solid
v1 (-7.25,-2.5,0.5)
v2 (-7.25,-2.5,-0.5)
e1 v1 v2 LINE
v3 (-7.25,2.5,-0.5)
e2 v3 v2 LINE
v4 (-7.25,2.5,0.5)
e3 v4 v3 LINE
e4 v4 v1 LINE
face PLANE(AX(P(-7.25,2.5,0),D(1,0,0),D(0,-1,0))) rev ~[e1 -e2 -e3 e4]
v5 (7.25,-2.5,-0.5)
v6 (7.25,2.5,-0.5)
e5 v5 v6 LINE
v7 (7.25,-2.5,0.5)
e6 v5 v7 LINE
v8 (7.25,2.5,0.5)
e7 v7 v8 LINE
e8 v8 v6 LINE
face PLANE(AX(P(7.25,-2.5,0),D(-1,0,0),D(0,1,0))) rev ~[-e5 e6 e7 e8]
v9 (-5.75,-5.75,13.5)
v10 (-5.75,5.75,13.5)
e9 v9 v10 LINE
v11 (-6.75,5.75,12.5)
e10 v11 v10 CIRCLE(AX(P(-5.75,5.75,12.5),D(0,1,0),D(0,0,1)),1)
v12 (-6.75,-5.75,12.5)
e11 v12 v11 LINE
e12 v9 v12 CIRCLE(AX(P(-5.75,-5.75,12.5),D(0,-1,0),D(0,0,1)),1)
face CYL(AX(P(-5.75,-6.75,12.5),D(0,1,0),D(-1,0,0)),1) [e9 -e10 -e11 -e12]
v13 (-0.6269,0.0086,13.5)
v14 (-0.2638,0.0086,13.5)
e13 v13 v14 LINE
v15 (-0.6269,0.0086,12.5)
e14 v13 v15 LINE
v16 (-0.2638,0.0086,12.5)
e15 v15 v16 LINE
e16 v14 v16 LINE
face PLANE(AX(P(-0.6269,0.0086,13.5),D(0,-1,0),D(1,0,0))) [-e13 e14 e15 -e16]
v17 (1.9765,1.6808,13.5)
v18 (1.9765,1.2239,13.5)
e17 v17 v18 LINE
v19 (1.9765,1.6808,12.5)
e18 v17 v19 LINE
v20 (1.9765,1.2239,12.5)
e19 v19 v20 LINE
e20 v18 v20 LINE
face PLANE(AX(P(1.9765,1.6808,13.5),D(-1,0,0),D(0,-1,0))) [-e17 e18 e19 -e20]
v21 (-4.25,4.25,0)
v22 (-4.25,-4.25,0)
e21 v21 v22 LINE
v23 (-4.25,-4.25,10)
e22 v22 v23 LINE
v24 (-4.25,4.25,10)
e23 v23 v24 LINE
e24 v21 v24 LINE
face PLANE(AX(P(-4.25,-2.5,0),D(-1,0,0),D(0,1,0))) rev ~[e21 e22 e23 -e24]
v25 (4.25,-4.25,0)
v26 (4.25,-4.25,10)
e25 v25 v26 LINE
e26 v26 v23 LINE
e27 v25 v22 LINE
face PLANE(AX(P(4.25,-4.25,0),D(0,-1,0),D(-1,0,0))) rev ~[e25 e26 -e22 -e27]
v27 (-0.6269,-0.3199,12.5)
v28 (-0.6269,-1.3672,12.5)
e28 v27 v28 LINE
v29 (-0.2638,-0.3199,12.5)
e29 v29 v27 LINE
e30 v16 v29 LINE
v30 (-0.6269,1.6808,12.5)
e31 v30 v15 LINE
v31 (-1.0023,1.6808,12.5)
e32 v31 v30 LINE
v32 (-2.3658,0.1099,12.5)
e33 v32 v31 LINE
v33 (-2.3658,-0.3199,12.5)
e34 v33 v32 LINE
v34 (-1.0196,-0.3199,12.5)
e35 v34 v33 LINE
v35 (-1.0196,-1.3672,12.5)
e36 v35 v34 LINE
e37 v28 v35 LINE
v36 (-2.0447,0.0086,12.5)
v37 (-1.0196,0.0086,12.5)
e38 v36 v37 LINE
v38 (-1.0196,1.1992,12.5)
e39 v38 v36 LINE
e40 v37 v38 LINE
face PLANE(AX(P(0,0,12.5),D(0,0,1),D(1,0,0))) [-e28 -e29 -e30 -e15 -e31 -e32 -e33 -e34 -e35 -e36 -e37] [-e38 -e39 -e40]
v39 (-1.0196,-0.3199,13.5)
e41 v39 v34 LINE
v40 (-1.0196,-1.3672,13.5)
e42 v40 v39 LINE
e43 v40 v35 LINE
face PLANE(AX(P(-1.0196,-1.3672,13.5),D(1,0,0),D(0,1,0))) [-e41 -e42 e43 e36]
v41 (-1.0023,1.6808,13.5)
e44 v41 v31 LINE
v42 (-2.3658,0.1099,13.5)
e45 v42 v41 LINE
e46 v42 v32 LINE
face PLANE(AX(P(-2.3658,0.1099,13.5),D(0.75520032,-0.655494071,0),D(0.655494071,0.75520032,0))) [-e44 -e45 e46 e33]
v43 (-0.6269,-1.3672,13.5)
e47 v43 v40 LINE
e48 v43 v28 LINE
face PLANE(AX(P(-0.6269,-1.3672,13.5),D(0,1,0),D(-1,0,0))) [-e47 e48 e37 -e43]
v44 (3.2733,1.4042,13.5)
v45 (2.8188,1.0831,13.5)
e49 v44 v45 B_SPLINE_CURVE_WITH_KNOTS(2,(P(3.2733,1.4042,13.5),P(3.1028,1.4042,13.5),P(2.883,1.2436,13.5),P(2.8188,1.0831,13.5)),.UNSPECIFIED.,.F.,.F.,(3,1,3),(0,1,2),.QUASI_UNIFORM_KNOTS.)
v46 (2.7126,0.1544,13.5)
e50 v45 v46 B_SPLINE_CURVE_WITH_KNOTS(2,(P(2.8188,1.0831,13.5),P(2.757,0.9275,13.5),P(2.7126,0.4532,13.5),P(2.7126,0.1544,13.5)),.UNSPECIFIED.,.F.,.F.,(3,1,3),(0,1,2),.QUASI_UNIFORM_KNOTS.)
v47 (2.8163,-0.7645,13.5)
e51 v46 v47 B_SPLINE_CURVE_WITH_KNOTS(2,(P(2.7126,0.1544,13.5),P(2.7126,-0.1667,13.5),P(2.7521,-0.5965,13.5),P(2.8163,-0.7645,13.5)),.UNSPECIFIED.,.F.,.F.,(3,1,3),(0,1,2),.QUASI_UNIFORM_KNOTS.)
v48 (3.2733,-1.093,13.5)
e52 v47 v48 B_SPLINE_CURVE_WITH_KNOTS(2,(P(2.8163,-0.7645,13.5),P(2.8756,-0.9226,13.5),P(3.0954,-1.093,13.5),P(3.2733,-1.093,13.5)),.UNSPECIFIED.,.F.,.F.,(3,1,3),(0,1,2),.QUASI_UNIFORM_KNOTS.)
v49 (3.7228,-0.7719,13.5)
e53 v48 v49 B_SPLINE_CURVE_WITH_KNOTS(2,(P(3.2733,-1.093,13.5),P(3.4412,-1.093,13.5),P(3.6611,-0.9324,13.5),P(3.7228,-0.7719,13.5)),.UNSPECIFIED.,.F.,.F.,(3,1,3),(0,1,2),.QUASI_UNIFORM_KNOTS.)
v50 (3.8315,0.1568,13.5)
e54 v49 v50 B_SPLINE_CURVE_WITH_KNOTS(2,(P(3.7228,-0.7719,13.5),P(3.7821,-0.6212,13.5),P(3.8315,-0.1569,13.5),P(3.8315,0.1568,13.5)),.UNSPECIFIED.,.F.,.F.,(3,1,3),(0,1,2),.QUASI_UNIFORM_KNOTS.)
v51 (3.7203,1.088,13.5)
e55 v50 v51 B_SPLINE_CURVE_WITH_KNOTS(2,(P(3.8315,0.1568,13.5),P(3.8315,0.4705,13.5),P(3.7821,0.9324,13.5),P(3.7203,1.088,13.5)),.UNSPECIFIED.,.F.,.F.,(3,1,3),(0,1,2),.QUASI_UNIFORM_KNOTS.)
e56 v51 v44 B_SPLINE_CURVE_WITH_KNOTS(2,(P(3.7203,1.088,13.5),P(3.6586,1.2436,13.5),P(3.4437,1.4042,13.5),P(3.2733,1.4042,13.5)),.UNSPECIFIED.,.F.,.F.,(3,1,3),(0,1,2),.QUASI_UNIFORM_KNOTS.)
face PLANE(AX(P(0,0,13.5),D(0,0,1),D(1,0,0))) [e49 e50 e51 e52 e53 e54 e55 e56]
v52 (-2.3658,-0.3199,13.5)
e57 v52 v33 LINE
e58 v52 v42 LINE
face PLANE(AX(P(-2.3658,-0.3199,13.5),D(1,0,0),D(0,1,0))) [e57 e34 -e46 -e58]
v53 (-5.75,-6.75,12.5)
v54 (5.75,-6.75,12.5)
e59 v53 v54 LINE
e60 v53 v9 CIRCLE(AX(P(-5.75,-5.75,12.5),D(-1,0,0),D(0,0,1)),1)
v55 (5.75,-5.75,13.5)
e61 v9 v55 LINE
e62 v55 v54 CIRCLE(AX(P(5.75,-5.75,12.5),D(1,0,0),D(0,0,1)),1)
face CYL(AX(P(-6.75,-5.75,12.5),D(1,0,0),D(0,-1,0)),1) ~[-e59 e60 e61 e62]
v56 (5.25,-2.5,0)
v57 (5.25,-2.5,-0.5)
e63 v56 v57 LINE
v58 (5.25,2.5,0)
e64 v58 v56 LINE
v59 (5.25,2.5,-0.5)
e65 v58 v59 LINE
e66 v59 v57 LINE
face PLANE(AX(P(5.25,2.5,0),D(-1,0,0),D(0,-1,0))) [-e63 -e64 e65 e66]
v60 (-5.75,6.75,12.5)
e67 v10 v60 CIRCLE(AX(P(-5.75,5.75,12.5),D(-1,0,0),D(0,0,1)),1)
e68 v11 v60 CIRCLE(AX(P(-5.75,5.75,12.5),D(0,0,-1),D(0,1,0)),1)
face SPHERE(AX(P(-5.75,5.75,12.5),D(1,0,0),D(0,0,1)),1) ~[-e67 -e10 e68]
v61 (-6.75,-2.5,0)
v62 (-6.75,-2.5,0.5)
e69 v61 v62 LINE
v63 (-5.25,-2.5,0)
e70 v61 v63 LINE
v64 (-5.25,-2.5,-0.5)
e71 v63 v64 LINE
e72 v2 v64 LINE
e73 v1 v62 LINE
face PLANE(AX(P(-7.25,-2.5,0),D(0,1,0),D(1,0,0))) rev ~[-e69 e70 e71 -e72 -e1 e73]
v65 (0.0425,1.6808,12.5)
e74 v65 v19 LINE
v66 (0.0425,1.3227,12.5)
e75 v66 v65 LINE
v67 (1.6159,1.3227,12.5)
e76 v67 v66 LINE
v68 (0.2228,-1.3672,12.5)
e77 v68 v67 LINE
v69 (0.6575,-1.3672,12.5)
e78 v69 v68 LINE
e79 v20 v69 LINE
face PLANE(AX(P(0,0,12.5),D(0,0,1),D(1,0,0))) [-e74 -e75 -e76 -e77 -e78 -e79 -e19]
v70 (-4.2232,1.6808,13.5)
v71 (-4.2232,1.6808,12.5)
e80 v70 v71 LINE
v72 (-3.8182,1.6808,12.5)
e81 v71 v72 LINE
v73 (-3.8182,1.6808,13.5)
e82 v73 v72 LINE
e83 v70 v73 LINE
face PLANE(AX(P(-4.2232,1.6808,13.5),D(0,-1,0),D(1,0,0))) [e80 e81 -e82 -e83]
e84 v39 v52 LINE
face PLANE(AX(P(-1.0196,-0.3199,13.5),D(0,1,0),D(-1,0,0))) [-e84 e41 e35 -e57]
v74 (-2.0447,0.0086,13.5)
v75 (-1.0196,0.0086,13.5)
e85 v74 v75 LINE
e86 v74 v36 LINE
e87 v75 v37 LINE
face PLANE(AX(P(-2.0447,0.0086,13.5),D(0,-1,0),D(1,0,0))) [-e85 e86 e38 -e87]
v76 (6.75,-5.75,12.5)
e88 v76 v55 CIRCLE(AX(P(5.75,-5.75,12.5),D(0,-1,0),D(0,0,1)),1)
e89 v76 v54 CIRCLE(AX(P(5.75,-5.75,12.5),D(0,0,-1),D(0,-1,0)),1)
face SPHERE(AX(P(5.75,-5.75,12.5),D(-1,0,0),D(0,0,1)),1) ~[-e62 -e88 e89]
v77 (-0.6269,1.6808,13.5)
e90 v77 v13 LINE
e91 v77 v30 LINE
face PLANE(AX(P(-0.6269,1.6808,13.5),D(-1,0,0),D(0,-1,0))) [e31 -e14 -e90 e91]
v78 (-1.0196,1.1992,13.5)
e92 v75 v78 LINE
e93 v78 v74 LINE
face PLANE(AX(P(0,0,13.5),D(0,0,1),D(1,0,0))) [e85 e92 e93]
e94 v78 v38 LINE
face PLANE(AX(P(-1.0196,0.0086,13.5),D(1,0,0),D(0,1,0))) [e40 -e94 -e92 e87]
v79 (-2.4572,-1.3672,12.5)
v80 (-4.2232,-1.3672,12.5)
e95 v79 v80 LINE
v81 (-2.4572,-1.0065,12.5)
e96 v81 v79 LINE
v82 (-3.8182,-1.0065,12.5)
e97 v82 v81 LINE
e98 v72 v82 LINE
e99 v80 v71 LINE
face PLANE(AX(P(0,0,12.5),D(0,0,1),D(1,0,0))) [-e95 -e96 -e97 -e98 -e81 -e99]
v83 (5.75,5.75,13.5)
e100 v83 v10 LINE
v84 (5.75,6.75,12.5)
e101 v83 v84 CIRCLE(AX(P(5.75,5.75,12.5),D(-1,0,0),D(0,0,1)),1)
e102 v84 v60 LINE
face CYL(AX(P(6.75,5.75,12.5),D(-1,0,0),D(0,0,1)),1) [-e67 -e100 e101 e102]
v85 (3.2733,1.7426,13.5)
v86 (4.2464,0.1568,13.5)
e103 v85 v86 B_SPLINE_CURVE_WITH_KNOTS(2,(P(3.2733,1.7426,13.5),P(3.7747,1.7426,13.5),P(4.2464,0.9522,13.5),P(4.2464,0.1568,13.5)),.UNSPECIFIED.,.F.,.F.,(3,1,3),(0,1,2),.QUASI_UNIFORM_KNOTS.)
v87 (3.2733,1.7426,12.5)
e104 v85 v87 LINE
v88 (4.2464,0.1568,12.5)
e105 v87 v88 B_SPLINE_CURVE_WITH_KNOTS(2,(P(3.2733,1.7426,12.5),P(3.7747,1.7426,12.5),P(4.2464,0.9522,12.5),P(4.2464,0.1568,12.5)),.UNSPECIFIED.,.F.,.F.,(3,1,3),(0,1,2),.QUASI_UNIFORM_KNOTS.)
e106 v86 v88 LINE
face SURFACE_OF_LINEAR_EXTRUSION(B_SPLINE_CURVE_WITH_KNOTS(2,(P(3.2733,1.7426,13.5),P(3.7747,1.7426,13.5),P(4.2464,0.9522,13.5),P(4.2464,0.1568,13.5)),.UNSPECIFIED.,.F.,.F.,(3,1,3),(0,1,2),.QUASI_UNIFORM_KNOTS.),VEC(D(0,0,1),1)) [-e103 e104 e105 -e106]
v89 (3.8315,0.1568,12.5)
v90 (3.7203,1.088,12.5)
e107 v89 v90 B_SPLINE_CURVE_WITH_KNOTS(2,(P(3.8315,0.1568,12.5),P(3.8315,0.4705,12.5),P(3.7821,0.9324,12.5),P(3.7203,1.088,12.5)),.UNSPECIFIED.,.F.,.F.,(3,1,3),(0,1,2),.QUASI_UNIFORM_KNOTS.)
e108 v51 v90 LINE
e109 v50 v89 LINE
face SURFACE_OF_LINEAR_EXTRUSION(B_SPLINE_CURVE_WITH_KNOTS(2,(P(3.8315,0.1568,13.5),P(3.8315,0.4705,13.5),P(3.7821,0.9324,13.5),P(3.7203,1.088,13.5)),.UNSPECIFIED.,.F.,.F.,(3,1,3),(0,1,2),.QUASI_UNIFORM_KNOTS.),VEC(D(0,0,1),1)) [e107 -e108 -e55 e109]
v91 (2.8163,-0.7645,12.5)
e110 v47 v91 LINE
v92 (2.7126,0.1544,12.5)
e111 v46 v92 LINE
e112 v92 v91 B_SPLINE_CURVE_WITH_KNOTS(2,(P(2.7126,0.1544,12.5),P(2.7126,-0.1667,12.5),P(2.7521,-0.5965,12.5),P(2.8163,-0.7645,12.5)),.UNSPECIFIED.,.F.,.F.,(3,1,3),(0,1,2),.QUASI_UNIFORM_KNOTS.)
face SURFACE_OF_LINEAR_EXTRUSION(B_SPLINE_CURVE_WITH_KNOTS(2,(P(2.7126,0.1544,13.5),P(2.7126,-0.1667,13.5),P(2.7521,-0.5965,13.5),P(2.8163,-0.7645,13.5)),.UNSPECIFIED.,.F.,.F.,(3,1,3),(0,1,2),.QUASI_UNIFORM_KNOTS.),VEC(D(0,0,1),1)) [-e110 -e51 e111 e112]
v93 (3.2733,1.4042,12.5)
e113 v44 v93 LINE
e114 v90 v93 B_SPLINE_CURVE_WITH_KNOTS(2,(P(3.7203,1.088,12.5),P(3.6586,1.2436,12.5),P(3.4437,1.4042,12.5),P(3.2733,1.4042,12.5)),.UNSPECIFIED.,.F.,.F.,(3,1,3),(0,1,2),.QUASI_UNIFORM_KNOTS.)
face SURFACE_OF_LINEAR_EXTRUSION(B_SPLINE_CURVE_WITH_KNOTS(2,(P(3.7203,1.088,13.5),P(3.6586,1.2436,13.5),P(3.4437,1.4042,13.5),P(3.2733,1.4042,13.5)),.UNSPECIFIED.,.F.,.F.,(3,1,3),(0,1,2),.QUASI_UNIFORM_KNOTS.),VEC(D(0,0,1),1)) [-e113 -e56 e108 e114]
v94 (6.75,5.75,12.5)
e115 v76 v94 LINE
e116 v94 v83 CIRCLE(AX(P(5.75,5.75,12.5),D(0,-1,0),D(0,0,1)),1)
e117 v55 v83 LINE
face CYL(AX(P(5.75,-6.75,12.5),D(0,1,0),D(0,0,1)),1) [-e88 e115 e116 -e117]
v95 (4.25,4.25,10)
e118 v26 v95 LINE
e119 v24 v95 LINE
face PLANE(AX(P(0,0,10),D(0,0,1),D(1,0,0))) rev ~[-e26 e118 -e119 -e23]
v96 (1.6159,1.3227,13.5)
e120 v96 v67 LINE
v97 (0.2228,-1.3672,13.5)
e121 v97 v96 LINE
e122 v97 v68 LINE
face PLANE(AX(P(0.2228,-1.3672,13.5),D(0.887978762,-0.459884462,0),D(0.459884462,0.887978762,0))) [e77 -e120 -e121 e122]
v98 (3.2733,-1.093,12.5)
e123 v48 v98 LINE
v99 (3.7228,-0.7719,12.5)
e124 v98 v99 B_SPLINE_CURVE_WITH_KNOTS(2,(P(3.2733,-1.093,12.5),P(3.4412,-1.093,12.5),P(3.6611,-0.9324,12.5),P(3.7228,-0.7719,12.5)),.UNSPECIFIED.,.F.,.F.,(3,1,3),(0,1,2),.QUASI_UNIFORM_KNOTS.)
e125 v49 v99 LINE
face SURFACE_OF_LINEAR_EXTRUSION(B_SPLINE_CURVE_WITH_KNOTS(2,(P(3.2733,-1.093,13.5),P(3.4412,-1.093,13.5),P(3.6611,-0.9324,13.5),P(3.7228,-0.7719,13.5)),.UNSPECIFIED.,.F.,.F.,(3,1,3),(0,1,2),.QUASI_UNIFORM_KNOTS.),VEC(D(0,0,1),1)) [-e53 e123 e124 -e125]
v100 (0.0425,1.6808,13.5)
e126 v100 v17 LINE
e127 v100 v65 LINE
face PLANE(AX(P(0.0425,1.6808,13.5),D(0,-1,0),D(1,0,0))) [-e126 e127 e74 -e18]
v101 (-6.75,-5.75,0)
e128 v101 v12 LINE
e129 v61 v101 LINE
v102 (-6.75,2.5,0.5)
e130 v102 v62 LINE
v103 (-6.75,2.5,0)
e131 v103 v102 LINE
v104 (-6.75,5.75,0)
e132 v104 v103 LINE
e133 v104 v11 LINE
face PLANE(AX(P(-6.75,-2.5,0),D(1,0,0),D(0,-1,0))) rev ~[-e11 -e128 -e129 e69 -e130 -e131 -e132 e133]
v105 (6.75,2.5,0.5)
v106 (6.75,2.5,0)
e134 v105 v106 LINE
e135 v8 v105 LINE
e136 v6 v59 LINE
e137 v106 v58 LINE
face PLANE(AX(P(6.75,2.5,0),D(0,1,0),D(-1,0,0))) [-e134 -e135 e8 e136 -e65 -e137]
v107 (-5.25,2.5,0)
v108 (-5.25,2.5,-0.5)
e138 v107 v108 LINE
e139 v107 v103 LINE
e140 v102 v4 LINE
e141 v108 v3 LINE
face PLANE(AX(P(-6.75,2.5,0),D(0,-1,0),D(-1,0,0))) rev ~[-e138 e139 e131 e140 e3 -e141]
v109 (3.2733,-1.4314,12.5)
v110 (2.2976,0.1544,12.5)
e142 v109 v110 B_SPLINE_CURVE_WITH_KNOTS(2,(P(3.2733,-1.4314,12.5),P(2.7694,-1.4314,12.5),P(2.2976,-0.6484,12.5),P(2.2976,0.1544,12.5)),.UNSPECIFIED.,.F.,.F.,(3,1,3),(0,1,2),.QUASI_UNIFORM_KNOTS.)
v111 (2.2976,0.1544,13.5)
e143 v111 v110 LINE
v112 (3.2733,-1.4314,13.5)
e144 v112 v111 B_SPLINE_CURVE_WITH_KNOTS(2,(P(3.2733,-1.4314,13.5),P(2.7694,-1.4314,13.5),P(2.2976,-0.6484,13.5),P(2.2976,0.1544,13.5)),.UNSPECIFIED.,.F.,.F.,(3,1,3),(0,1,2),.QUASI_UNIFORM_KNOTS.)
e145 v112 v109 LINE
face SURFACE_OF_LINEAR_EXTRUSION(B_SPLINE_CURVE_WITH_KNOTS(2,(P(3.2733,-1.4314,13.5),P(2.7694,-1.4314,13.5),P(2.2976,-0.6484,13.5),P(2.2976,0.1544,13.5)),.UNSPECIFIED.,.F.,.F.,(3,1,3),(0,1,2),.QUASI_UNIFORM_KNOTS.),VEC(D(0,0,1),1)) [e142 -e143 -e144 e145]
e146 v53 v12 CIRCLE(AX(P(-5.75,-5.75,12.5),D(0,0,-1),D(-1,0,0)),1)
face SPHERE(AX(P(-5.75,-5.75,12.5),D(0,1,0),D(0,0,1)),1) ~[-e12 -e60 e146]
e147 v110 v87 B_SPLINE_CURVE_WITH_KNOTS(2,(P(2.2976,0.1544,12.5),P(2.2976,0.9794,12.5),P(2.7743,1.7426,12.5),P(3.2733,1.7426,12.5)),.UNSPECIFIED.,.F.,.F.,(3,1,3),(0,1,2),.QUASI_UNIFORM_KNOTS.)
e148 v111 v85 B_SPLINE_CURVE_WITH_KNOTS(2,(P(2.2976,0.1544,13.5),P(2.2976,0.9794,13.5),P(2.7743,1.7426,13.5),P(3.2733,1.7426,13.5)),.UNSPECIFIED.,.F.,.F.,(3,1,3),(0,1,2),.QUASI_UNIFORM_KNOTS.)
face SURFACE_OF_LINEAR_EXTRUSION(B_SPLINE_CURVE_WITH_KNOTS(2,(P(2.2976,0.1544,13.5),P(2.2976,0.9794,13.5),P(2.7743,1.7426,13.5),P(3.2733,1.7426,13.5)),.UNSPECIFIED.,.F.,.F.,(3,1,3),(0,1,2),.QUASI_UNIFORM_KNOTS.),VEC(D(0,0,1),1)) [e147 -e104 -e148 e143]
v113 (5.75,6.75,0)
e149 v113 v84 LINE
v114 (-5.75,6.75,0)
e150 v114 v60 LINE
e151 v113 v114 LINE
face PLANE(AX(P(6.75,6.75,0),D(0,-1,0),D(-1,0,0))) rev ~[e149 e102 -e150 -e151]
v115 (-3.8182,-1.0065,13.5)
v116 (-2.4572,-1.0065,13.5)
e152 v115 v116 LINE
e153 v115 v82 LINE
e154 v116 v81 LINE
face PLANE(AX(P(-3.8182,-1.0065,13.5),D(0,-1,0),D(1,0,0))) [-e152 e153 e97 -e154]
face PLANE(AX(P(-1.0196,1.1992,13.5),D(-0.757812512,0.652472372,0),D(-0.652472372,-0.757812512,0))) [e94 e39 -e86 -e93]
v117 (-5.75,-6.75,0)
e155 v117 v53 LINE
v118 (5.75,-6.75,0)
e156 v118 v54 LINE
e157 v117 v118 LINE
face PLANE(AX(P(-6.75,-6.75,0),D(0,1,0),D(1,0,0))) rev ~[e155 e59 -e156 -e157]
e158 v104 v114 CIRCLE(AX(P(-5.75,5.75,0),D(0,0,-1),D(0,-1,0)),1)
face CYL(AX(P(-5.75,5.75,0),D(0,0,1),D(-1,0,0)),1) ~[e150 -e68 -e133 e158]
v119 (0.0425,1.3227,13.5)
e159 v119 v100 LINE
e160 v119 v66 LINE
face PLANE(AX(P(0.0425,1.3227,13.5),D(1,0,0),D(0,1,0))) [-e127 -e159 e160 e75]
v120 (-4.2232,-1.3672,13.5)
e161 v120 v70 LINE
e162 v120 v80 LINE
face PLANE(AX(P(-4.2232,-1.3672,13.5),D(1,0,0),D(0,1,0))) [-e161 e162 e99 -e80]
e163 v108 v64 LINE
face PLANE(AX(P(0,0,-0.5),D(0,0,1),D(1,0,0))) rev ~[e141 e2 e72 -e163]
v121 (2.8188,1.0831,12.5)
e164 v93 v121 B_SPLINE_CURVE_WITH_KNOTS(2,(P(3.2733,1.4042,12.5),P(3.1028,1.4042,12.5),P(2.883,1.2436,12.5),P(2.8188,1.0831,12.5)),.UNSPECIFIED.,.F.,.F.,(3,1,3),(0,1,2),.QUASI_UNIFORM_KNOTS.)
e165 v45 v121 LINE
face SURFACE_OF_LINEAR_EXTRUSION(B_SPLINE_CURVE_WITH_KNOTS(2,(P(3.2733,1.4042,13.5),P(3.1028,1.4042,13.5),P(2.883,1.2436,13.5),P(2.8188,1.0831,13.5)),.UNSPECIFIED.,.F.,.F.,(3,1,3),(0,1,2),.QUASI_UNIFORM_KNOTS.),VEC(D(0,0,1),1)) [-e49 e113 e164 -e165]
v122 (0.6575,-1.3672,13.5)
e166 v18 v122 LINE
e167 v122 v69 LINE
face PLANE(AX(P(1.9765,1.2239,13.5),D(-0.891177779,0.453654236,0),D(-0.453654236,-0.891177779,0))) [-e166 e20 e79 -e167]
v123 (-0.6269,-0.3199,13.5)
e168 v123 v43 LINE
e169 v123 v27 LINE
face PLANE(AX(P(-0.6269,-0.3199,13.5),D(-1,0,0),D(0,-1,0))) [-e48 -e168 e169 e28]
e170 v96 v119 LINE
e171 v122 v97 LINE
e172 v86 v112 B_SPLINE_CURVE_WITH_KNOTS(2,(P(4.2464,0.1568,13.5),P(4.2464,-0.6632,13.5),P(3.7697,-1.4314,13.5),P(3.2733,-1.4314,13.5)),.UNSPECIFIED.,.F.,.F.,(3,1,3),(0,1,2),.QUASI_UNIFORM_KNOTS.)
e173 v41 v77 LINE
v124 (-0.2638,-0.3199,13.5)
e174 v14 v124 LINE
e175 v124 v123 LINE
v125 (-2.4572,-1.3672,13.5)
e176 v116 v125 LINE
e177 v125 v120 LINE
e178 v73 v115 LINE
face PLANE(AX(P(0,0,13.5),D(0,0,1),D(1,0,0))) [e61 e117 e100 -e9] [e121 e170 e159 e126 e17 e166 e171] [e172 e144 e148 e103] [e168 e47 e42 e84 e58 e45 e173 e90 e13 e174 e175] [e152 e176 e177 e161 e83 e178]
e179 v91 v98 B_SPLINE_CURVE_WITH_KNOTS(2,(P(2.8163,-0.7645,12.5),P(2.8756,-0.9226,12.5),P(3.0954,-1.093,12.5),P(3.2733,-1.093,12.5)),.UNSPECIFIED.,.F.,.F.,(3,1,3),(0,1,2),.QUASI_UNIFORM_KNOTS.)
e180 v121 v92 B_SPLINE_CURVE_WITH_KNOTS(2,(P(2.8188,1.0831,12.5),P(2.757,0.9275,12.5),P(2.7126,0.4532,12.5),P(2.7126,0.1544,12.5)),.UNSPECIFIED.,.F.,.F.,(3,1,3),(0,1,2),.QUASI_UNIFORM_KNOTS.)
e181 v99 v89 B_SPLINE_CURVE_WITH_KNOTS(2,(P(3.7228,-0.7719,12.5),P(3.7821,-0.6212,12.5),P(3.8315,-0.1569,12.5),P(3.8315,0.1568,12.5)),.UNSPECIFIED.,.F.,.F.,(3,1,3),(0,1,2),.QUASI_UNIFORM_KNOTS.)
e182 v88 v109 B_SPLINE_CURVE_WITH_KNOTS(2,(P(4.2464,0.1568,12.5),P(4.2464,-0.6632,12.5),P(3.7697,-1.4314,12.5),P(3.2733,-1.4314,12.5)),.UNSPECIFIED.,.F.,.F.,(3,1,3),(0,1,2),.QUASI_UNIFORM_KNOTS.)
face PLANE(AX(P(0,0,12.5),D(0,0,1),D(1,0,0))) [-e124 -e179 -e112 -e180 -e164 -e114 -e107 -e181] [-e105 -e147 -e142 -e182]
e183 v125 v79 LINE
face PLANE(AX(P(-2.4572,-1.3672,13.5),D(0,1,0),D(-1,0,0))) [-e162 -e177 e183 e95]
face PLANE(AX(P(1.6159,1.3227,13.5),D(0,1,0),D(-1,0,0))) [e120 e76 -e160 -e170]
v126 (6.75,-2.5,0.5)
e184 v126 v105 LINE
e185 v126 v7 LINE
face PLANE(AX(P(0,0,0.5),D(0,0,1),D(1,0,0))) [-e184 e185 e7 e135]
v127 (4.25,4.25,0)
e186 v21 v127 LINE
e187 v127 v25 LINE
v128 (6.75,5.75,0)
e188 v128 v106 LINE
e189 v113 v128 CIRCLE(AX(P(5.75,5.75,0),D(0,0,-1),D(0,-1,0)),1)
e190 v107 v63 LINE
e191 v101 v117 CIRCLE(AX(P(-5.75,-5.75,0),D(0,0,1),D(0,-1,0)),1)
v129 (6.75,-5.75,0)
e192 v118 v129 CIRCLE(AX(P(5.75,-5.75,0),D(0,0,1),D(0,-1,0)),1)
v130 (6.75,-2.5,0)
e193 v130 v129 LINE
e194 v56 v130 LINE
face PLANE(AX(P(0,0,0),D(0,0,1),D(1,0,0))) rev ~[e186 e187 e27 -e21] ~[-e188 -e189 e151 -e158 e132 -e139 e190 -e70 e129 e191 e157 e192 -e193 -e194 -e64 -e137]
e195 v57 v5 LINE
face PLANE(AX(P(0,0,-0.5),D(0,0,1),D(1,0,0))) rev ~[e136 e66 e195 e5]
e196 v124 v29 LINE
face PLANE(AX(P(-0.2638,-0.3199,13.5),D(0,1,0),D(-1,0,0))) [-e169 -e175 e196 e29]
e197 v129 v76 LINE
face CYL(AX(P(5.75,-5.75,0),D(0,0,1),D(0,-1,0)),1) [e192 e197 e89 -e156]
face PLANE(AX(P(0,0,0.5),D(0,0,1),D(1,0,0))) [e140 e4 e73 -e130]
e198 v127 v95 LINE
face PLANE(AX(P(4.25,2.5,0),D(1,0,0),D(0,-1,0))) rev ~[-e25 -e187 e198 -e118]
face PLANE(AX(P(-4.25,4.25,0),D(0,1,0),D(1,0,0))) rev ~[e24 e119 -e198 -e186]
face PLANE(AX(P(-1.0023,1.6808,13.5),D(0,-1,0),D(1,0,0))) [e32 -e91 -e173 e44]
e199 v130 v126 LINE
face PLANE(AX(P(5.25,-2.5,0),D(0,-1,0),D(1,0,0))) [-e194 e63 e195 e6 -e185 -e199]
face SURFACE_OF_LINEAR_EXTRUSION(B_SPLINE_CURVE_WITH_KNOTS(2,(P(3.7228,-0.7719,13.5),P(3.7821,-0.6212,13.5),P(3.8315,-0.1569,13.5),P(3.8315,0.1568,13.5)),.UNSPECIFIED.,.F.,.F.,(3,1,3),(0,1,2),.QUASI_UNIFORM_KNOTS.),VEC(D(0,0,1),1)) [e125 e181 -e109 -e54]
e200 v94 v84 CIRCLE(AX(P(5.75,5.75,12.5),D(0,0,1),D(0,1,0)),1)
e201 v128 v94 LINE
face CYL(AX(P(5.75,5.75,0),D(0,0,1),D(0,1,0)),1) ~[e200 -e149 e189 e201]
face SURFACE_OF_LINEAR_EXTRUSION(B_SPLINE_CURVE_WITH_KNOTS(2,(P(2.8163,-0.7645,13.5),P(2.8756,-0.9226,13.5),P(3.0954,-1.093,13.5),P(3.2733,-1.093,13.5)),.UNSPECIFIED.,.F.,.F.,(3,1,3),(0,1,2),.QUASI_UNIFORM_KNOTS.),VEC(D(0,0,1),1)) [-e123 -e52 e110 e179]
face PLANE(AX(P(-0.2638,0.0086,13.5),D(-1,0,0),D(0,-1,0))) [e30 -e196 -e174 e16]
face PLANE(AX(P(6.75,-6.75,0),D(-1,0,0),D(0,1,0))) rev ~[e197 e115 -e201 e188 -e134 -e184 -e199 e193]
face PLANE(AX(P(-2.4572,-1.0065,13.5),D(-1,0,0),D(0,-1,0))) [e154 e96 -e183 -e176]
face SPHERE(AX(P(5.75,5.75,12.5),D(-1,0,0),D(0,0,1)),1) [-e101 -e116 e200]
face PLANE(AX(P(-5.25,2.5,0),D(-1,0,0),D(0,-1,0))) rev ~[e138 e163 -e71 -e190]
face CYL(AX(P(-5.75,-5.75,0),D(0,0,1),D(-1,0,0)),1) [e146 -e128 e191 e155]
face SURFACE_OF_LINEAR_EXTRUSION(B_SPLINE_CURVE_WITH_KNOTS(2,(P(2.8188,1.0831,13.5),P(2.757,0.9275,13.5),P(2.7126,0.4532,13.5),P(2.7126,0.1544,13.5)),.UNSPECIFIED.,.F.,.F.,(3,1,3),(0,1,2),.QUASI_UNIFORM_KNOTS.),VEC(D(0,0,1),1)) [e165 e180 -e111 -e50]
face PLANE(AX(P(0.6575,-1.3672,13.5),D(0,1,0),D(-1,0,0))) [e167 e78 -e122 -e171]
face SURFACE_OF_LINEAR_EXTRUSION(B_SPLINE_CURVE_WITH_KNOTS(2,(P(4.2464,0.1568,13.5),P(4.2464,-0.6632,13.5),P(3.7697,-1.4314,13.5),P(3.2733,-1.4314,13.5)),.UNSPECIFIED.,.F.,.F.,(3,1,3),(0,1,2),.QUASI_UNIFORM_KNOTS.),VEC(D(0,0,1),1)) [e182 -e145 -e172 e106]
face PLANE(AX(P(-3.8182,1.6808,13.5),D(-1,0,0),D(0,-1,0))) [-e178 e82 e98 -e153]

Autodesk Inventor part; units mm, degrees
ref_plane "YZ Plane" through (0, 0, 0) normal (1, 0, 0) x (0, 1, 0)
ref_plane "XZ Plane" through (0, 0, 0) normal (0, 1, 0) x (-1, 0, 0)
ref_plane "XY Plane" through (0, 0, 0) normal (0, 0, 1) x (1, 0, 0)
sketch "Sketch2" plane through (0, 0, 0) normal (0, 0, 1) x (1, 0, 0)
  line L0 (-6.75, -6.75) -> (6.75, -6.75)
  line L1 (6.75, -6.75) -> (6.75, 6.75)
  line L2 (6.75, 6.75) -> (-6.75, 6.75)
  line L3 (-6.75, 6.75) -> (-6.75, -6.75)
  line L4 (-6.75, -6.75) -> (6.75, 6.75) construction
  line L5 (6.75, -6.75) -> (-6.75, 6.75) construction
  line L6 (-6.75, -6.75) -> (6.75, -6.75) construction
  line L7 (6.75, -6.75) -> (6.75, -2.5) construction
  line L8 (6.75, -2.5) -> (-6.75, -2.5) construction
  line L9 (-6.75, -2.5) -> (-6.75, -6.75) construction
  line L10 (-7.25, -2.5) -> (7.25, -2.5)
  line L11 (7.25, -2.5) -> (7.25, 2.5)
  line L12 (7.25, 2.5) -> (-7.25, 2.5)
  line L13 (-7.25, 2.5) -> (-7.25, -2.5)
  line L14 (-7.25, 2.5) -> (-5.25, 2.5)
  line L15 (-5.25, 2.5) -> (-5.25, -2.5)
  line L16 (-5.25, -2.5) -> (-7.25, -2.5)
  line L17 (-7.25, -2.5) -> (-7.25, 2.5)
  line L18 (7.25, 2.5) -> (5.25, 2.5)
  line L19 (5.25, 2.5) -> (5.25, -2.5)
  line L20 (5.25, -2.5) -> (7.25, -2.5)
  line L21 (7.25, -2.5) -> (7.25, 2.5)
  line L22 (4.25, -4.25) -> (-4.25, -4.25)
  line L23 (-4.25, -4.25) -> (-4.25, 4.25)
  line L24 (-4.25, 4.25) -> (4.25, 4.25)
  line L25 (4.25, 4.25) -> (4.25, -4.25)
  line L26 (4.25, -4.25) -> (-4.25, 4.25) construction
  line L27 (-4.25, -4.25) -> (4.25, 4.25) construction
  point P0 (0, 0)
  point P1 (0, -2.5)
  point P2 (-6.75, 2.5)
  point P3 (6.75, -2.5)
  point P4 (6.75, 2.5)
  dimension "d2" = 13.5
  dimension "d4" = 4.25
  dimension "d5" = 5
  dimension "d6" = 0.5
  dimension "d7" = 0.5
  dimension "d8" = 2
  dimension "d9" = 2
  dimension "d16" = 8.5
extrude "Extrusion2" add sketch "Sketch2" along normal blind 13.5 contours L3 L10 L23 L22 L25 L1 L0 | L3 L12 L15 L10 | L10 L19 L12 L1 | L3 L2 L1 L12 L25 L24 L23 | L15 L12 L23 L10 | L10 L25 L12 L19 | L23 L12 L25 L10 | L10 L25 L22 L23 | L23 L24 L25 L12
extrude "Extrusion3" add sketch "Sketch2" against normal blind 0.5 contours L3 L12 L15 L10 | L10 L19 L12 L1
extrude "Extrusion4" add sketch "Sketch2" along normal mid plane 1 contours L10 L13 L12 L3 | L1 L12 L11 L10
extrude "Extrusion5" cut sketch "Sketch2" along normal blind 10 contours L23 L12 L25 L10 | L10 L25 L22 L23 | L23 L24 L25 L12
sketch "Sketch3" plane through (0, 0, 13.5) normal (0, 0, 1) x (1, 0, 0)
  line L0 (-4.532, 1.7426) -> (3.9775, 1.7426) construction
  line L1 (3.9775, 1.7426) -> (3.9775, -2.8625) construction
  line L2 (3.9775, -2.8625) -> (-4.532, -2.8625) construction
  line L3 (-4.532, -2.8625) -> (-4.532, 1.7426) construction
  line L4 (-2.4572, -1.3672) -> (-4.2232, -1.3672)
  line L5 (-4.2232, -1.3672) -> (-4.2232, 1.6808)
  line L6 (-4.2232, 1.6808) -> (-3.8182, 1.6808)
  line L7 (-3.8182, 1.6808) -> (-3.8182, -1.0065)
  line L8 (-3.8182, -1.0065) -> (-2.4572, -1.0065)
  line L9 (-2.4572, -1.0065) -> (-2.4572, -1.3672)
  line L10 (-0.2638, -0.3199) -> (-0.6269, -0.3199)
  line L11 (-0.6269, -0.3199) -> (-0.6269, -1.3672)
  line L12 (-0.6269, -1.3672) -> (-1.0196, -1.3672)
  line L13 (-1.0196, -1.3672) -> (-1.0196, -0.3199)
  line L14 (-1.0196, -0.3199) -> (-2.3658, -0.3199)
  line L15 (-2.3658, -0.3199) -> (-2.3658, 0.1099)
  line L16 (-2.3658, 0.1099) -> (-1.0023, 1.6808)
  line L17 (-1.0023, 1.6808) -> (-0.6269, 1.6808)
  line L18 (-0.6269, 1.6808) -> (-0.6269, 0.0086)
  line L19 (-0.6269, 0.0086) -> (-0.2638, 0.0086)
  line L20 (-0.2638, 0.0086) -> (-0.2638, -0.3199)
  line L21 (-1.0196, 0.0086) -> (-1.0196, 1.1992)
  line L22 (-1.0196, 1.1992) -> (-2.0447, 0.0086)
  line L23 (-2.0447, 0.0086) -> (-1.0196, 0.0086)
  line L24 (1.9765, 1.2239) -> (0.6575, -1.3672)
  line L25 (0.6575, -1.3672) -> (0.2228, -1.3672)
  line L26 (0.2228, -1.3672) -> (1.6159, 1.3227)
  line L27 (1.6159, 1.3227) -> (0.0425, 1.3227)
  line L28 (0.0425, 1.3227) -> (0.0425, 1.6808)
  line L29 (0.0425, 1.6808) -> (1.9765, 1.6808)
  line L30 (1.9765, 1.6808) -> (1.9765, 1.2239)
  spline S0 degree 2 poles (4.2464, 0.1568) (4.2464, -0.6632) (3.7697, -1.4314) (3.2733, -1.4314) knots 0 0 0 1 2 2 2
  spline S1 degree 2 poles (3.2733, -1.4314) (2.7694, -1.4314) (2.2976, -0.6484) (2.2976, 0.1544) knots 0 0 0 1 2 2 2
  spline S2 degree 2 poles (2.2976, 0.1544) (2.2976, 0.9794) (2.7743, 1.7426) (3.2733, 1.7426) knots 0 0 0 1 2 2 2
  spline S3 degree 2 poles (3.2733, 1.7426) (3.7747, 1.7426) (4.2464, 0.9522) (4.2464, 0.1568) knots 0 0 0 1 2 2 2
  spline S4 degree 2 poles (3.7228, -0.7719) (3.7821, -0.6212) (3.8315, -0.1569) (3.8315, 0.1568) knots 0 0 0 1 2 2 2
  spline S5 degree 2 poles (3.8315, 0.1568) (3.8315, 0.4705) (3.7821, 0.9324) (3.7203, 1.088) knots 0 0 0 1 2 2 2
  spline S6 degree 2 poles (3.7203, 1.088) (3.6586, 1.2436) (3.4437, 1.4042) (3.2733, 1.4042) knots 0 0 0 1 2 2 2
  spline S7 degree 2 poles (3.2733, 1.4042) (3.1028, 1.4042) (2.883, 1.2436) (2.8188, 1.0831) knots 0 0 0 1 2 2 2
  spline S8 degree 2 poles (2.8188, 1.0831) (2.757, 0.9275) (2.7126, 0.4532) (2.7126, 0.1544) knots 0 0 0 1 2 2 2
  spline S9 degree 2 poles (2.7126, 0.1544) (2.7126, -0.1667) (2.7521, -0.5965) (2.8163, -0.7645) knots 0 0 0 1 2 2 2
  spline S10 degree 2 poles (2.8163, -0.7645) (2.8756, -0.9226) (3.0954, -1.093) (3.2733, -1.093) knots 0 0 0 1 2 2 2
  spline S11 degree 2 poles (3.2733, -1.093) (3.4412, -1.093) (3.6611, -0.9324) (3.7228, -0.7719) knots 0 0 0 1 2 2 2
  point P0 (0, 0)
fillet "Fillet1" radius 1 8 edges at (0, 6.75, 13.5) (-6.75, 0, 13.5) (0, -6.75, 13.5) (6.75, 0, 13.5) (-6.75, 6.75, 6.75) (-6.75, -6.75, 6.75) (6.75, 6.75, 6.75) (6.75, -6.75, 6.75)
extrude "Extrusion7" cut sketch "Sketch3" against normal blind 1
properties part number "SINC1313-470_L470_SMD_3DPrint"
